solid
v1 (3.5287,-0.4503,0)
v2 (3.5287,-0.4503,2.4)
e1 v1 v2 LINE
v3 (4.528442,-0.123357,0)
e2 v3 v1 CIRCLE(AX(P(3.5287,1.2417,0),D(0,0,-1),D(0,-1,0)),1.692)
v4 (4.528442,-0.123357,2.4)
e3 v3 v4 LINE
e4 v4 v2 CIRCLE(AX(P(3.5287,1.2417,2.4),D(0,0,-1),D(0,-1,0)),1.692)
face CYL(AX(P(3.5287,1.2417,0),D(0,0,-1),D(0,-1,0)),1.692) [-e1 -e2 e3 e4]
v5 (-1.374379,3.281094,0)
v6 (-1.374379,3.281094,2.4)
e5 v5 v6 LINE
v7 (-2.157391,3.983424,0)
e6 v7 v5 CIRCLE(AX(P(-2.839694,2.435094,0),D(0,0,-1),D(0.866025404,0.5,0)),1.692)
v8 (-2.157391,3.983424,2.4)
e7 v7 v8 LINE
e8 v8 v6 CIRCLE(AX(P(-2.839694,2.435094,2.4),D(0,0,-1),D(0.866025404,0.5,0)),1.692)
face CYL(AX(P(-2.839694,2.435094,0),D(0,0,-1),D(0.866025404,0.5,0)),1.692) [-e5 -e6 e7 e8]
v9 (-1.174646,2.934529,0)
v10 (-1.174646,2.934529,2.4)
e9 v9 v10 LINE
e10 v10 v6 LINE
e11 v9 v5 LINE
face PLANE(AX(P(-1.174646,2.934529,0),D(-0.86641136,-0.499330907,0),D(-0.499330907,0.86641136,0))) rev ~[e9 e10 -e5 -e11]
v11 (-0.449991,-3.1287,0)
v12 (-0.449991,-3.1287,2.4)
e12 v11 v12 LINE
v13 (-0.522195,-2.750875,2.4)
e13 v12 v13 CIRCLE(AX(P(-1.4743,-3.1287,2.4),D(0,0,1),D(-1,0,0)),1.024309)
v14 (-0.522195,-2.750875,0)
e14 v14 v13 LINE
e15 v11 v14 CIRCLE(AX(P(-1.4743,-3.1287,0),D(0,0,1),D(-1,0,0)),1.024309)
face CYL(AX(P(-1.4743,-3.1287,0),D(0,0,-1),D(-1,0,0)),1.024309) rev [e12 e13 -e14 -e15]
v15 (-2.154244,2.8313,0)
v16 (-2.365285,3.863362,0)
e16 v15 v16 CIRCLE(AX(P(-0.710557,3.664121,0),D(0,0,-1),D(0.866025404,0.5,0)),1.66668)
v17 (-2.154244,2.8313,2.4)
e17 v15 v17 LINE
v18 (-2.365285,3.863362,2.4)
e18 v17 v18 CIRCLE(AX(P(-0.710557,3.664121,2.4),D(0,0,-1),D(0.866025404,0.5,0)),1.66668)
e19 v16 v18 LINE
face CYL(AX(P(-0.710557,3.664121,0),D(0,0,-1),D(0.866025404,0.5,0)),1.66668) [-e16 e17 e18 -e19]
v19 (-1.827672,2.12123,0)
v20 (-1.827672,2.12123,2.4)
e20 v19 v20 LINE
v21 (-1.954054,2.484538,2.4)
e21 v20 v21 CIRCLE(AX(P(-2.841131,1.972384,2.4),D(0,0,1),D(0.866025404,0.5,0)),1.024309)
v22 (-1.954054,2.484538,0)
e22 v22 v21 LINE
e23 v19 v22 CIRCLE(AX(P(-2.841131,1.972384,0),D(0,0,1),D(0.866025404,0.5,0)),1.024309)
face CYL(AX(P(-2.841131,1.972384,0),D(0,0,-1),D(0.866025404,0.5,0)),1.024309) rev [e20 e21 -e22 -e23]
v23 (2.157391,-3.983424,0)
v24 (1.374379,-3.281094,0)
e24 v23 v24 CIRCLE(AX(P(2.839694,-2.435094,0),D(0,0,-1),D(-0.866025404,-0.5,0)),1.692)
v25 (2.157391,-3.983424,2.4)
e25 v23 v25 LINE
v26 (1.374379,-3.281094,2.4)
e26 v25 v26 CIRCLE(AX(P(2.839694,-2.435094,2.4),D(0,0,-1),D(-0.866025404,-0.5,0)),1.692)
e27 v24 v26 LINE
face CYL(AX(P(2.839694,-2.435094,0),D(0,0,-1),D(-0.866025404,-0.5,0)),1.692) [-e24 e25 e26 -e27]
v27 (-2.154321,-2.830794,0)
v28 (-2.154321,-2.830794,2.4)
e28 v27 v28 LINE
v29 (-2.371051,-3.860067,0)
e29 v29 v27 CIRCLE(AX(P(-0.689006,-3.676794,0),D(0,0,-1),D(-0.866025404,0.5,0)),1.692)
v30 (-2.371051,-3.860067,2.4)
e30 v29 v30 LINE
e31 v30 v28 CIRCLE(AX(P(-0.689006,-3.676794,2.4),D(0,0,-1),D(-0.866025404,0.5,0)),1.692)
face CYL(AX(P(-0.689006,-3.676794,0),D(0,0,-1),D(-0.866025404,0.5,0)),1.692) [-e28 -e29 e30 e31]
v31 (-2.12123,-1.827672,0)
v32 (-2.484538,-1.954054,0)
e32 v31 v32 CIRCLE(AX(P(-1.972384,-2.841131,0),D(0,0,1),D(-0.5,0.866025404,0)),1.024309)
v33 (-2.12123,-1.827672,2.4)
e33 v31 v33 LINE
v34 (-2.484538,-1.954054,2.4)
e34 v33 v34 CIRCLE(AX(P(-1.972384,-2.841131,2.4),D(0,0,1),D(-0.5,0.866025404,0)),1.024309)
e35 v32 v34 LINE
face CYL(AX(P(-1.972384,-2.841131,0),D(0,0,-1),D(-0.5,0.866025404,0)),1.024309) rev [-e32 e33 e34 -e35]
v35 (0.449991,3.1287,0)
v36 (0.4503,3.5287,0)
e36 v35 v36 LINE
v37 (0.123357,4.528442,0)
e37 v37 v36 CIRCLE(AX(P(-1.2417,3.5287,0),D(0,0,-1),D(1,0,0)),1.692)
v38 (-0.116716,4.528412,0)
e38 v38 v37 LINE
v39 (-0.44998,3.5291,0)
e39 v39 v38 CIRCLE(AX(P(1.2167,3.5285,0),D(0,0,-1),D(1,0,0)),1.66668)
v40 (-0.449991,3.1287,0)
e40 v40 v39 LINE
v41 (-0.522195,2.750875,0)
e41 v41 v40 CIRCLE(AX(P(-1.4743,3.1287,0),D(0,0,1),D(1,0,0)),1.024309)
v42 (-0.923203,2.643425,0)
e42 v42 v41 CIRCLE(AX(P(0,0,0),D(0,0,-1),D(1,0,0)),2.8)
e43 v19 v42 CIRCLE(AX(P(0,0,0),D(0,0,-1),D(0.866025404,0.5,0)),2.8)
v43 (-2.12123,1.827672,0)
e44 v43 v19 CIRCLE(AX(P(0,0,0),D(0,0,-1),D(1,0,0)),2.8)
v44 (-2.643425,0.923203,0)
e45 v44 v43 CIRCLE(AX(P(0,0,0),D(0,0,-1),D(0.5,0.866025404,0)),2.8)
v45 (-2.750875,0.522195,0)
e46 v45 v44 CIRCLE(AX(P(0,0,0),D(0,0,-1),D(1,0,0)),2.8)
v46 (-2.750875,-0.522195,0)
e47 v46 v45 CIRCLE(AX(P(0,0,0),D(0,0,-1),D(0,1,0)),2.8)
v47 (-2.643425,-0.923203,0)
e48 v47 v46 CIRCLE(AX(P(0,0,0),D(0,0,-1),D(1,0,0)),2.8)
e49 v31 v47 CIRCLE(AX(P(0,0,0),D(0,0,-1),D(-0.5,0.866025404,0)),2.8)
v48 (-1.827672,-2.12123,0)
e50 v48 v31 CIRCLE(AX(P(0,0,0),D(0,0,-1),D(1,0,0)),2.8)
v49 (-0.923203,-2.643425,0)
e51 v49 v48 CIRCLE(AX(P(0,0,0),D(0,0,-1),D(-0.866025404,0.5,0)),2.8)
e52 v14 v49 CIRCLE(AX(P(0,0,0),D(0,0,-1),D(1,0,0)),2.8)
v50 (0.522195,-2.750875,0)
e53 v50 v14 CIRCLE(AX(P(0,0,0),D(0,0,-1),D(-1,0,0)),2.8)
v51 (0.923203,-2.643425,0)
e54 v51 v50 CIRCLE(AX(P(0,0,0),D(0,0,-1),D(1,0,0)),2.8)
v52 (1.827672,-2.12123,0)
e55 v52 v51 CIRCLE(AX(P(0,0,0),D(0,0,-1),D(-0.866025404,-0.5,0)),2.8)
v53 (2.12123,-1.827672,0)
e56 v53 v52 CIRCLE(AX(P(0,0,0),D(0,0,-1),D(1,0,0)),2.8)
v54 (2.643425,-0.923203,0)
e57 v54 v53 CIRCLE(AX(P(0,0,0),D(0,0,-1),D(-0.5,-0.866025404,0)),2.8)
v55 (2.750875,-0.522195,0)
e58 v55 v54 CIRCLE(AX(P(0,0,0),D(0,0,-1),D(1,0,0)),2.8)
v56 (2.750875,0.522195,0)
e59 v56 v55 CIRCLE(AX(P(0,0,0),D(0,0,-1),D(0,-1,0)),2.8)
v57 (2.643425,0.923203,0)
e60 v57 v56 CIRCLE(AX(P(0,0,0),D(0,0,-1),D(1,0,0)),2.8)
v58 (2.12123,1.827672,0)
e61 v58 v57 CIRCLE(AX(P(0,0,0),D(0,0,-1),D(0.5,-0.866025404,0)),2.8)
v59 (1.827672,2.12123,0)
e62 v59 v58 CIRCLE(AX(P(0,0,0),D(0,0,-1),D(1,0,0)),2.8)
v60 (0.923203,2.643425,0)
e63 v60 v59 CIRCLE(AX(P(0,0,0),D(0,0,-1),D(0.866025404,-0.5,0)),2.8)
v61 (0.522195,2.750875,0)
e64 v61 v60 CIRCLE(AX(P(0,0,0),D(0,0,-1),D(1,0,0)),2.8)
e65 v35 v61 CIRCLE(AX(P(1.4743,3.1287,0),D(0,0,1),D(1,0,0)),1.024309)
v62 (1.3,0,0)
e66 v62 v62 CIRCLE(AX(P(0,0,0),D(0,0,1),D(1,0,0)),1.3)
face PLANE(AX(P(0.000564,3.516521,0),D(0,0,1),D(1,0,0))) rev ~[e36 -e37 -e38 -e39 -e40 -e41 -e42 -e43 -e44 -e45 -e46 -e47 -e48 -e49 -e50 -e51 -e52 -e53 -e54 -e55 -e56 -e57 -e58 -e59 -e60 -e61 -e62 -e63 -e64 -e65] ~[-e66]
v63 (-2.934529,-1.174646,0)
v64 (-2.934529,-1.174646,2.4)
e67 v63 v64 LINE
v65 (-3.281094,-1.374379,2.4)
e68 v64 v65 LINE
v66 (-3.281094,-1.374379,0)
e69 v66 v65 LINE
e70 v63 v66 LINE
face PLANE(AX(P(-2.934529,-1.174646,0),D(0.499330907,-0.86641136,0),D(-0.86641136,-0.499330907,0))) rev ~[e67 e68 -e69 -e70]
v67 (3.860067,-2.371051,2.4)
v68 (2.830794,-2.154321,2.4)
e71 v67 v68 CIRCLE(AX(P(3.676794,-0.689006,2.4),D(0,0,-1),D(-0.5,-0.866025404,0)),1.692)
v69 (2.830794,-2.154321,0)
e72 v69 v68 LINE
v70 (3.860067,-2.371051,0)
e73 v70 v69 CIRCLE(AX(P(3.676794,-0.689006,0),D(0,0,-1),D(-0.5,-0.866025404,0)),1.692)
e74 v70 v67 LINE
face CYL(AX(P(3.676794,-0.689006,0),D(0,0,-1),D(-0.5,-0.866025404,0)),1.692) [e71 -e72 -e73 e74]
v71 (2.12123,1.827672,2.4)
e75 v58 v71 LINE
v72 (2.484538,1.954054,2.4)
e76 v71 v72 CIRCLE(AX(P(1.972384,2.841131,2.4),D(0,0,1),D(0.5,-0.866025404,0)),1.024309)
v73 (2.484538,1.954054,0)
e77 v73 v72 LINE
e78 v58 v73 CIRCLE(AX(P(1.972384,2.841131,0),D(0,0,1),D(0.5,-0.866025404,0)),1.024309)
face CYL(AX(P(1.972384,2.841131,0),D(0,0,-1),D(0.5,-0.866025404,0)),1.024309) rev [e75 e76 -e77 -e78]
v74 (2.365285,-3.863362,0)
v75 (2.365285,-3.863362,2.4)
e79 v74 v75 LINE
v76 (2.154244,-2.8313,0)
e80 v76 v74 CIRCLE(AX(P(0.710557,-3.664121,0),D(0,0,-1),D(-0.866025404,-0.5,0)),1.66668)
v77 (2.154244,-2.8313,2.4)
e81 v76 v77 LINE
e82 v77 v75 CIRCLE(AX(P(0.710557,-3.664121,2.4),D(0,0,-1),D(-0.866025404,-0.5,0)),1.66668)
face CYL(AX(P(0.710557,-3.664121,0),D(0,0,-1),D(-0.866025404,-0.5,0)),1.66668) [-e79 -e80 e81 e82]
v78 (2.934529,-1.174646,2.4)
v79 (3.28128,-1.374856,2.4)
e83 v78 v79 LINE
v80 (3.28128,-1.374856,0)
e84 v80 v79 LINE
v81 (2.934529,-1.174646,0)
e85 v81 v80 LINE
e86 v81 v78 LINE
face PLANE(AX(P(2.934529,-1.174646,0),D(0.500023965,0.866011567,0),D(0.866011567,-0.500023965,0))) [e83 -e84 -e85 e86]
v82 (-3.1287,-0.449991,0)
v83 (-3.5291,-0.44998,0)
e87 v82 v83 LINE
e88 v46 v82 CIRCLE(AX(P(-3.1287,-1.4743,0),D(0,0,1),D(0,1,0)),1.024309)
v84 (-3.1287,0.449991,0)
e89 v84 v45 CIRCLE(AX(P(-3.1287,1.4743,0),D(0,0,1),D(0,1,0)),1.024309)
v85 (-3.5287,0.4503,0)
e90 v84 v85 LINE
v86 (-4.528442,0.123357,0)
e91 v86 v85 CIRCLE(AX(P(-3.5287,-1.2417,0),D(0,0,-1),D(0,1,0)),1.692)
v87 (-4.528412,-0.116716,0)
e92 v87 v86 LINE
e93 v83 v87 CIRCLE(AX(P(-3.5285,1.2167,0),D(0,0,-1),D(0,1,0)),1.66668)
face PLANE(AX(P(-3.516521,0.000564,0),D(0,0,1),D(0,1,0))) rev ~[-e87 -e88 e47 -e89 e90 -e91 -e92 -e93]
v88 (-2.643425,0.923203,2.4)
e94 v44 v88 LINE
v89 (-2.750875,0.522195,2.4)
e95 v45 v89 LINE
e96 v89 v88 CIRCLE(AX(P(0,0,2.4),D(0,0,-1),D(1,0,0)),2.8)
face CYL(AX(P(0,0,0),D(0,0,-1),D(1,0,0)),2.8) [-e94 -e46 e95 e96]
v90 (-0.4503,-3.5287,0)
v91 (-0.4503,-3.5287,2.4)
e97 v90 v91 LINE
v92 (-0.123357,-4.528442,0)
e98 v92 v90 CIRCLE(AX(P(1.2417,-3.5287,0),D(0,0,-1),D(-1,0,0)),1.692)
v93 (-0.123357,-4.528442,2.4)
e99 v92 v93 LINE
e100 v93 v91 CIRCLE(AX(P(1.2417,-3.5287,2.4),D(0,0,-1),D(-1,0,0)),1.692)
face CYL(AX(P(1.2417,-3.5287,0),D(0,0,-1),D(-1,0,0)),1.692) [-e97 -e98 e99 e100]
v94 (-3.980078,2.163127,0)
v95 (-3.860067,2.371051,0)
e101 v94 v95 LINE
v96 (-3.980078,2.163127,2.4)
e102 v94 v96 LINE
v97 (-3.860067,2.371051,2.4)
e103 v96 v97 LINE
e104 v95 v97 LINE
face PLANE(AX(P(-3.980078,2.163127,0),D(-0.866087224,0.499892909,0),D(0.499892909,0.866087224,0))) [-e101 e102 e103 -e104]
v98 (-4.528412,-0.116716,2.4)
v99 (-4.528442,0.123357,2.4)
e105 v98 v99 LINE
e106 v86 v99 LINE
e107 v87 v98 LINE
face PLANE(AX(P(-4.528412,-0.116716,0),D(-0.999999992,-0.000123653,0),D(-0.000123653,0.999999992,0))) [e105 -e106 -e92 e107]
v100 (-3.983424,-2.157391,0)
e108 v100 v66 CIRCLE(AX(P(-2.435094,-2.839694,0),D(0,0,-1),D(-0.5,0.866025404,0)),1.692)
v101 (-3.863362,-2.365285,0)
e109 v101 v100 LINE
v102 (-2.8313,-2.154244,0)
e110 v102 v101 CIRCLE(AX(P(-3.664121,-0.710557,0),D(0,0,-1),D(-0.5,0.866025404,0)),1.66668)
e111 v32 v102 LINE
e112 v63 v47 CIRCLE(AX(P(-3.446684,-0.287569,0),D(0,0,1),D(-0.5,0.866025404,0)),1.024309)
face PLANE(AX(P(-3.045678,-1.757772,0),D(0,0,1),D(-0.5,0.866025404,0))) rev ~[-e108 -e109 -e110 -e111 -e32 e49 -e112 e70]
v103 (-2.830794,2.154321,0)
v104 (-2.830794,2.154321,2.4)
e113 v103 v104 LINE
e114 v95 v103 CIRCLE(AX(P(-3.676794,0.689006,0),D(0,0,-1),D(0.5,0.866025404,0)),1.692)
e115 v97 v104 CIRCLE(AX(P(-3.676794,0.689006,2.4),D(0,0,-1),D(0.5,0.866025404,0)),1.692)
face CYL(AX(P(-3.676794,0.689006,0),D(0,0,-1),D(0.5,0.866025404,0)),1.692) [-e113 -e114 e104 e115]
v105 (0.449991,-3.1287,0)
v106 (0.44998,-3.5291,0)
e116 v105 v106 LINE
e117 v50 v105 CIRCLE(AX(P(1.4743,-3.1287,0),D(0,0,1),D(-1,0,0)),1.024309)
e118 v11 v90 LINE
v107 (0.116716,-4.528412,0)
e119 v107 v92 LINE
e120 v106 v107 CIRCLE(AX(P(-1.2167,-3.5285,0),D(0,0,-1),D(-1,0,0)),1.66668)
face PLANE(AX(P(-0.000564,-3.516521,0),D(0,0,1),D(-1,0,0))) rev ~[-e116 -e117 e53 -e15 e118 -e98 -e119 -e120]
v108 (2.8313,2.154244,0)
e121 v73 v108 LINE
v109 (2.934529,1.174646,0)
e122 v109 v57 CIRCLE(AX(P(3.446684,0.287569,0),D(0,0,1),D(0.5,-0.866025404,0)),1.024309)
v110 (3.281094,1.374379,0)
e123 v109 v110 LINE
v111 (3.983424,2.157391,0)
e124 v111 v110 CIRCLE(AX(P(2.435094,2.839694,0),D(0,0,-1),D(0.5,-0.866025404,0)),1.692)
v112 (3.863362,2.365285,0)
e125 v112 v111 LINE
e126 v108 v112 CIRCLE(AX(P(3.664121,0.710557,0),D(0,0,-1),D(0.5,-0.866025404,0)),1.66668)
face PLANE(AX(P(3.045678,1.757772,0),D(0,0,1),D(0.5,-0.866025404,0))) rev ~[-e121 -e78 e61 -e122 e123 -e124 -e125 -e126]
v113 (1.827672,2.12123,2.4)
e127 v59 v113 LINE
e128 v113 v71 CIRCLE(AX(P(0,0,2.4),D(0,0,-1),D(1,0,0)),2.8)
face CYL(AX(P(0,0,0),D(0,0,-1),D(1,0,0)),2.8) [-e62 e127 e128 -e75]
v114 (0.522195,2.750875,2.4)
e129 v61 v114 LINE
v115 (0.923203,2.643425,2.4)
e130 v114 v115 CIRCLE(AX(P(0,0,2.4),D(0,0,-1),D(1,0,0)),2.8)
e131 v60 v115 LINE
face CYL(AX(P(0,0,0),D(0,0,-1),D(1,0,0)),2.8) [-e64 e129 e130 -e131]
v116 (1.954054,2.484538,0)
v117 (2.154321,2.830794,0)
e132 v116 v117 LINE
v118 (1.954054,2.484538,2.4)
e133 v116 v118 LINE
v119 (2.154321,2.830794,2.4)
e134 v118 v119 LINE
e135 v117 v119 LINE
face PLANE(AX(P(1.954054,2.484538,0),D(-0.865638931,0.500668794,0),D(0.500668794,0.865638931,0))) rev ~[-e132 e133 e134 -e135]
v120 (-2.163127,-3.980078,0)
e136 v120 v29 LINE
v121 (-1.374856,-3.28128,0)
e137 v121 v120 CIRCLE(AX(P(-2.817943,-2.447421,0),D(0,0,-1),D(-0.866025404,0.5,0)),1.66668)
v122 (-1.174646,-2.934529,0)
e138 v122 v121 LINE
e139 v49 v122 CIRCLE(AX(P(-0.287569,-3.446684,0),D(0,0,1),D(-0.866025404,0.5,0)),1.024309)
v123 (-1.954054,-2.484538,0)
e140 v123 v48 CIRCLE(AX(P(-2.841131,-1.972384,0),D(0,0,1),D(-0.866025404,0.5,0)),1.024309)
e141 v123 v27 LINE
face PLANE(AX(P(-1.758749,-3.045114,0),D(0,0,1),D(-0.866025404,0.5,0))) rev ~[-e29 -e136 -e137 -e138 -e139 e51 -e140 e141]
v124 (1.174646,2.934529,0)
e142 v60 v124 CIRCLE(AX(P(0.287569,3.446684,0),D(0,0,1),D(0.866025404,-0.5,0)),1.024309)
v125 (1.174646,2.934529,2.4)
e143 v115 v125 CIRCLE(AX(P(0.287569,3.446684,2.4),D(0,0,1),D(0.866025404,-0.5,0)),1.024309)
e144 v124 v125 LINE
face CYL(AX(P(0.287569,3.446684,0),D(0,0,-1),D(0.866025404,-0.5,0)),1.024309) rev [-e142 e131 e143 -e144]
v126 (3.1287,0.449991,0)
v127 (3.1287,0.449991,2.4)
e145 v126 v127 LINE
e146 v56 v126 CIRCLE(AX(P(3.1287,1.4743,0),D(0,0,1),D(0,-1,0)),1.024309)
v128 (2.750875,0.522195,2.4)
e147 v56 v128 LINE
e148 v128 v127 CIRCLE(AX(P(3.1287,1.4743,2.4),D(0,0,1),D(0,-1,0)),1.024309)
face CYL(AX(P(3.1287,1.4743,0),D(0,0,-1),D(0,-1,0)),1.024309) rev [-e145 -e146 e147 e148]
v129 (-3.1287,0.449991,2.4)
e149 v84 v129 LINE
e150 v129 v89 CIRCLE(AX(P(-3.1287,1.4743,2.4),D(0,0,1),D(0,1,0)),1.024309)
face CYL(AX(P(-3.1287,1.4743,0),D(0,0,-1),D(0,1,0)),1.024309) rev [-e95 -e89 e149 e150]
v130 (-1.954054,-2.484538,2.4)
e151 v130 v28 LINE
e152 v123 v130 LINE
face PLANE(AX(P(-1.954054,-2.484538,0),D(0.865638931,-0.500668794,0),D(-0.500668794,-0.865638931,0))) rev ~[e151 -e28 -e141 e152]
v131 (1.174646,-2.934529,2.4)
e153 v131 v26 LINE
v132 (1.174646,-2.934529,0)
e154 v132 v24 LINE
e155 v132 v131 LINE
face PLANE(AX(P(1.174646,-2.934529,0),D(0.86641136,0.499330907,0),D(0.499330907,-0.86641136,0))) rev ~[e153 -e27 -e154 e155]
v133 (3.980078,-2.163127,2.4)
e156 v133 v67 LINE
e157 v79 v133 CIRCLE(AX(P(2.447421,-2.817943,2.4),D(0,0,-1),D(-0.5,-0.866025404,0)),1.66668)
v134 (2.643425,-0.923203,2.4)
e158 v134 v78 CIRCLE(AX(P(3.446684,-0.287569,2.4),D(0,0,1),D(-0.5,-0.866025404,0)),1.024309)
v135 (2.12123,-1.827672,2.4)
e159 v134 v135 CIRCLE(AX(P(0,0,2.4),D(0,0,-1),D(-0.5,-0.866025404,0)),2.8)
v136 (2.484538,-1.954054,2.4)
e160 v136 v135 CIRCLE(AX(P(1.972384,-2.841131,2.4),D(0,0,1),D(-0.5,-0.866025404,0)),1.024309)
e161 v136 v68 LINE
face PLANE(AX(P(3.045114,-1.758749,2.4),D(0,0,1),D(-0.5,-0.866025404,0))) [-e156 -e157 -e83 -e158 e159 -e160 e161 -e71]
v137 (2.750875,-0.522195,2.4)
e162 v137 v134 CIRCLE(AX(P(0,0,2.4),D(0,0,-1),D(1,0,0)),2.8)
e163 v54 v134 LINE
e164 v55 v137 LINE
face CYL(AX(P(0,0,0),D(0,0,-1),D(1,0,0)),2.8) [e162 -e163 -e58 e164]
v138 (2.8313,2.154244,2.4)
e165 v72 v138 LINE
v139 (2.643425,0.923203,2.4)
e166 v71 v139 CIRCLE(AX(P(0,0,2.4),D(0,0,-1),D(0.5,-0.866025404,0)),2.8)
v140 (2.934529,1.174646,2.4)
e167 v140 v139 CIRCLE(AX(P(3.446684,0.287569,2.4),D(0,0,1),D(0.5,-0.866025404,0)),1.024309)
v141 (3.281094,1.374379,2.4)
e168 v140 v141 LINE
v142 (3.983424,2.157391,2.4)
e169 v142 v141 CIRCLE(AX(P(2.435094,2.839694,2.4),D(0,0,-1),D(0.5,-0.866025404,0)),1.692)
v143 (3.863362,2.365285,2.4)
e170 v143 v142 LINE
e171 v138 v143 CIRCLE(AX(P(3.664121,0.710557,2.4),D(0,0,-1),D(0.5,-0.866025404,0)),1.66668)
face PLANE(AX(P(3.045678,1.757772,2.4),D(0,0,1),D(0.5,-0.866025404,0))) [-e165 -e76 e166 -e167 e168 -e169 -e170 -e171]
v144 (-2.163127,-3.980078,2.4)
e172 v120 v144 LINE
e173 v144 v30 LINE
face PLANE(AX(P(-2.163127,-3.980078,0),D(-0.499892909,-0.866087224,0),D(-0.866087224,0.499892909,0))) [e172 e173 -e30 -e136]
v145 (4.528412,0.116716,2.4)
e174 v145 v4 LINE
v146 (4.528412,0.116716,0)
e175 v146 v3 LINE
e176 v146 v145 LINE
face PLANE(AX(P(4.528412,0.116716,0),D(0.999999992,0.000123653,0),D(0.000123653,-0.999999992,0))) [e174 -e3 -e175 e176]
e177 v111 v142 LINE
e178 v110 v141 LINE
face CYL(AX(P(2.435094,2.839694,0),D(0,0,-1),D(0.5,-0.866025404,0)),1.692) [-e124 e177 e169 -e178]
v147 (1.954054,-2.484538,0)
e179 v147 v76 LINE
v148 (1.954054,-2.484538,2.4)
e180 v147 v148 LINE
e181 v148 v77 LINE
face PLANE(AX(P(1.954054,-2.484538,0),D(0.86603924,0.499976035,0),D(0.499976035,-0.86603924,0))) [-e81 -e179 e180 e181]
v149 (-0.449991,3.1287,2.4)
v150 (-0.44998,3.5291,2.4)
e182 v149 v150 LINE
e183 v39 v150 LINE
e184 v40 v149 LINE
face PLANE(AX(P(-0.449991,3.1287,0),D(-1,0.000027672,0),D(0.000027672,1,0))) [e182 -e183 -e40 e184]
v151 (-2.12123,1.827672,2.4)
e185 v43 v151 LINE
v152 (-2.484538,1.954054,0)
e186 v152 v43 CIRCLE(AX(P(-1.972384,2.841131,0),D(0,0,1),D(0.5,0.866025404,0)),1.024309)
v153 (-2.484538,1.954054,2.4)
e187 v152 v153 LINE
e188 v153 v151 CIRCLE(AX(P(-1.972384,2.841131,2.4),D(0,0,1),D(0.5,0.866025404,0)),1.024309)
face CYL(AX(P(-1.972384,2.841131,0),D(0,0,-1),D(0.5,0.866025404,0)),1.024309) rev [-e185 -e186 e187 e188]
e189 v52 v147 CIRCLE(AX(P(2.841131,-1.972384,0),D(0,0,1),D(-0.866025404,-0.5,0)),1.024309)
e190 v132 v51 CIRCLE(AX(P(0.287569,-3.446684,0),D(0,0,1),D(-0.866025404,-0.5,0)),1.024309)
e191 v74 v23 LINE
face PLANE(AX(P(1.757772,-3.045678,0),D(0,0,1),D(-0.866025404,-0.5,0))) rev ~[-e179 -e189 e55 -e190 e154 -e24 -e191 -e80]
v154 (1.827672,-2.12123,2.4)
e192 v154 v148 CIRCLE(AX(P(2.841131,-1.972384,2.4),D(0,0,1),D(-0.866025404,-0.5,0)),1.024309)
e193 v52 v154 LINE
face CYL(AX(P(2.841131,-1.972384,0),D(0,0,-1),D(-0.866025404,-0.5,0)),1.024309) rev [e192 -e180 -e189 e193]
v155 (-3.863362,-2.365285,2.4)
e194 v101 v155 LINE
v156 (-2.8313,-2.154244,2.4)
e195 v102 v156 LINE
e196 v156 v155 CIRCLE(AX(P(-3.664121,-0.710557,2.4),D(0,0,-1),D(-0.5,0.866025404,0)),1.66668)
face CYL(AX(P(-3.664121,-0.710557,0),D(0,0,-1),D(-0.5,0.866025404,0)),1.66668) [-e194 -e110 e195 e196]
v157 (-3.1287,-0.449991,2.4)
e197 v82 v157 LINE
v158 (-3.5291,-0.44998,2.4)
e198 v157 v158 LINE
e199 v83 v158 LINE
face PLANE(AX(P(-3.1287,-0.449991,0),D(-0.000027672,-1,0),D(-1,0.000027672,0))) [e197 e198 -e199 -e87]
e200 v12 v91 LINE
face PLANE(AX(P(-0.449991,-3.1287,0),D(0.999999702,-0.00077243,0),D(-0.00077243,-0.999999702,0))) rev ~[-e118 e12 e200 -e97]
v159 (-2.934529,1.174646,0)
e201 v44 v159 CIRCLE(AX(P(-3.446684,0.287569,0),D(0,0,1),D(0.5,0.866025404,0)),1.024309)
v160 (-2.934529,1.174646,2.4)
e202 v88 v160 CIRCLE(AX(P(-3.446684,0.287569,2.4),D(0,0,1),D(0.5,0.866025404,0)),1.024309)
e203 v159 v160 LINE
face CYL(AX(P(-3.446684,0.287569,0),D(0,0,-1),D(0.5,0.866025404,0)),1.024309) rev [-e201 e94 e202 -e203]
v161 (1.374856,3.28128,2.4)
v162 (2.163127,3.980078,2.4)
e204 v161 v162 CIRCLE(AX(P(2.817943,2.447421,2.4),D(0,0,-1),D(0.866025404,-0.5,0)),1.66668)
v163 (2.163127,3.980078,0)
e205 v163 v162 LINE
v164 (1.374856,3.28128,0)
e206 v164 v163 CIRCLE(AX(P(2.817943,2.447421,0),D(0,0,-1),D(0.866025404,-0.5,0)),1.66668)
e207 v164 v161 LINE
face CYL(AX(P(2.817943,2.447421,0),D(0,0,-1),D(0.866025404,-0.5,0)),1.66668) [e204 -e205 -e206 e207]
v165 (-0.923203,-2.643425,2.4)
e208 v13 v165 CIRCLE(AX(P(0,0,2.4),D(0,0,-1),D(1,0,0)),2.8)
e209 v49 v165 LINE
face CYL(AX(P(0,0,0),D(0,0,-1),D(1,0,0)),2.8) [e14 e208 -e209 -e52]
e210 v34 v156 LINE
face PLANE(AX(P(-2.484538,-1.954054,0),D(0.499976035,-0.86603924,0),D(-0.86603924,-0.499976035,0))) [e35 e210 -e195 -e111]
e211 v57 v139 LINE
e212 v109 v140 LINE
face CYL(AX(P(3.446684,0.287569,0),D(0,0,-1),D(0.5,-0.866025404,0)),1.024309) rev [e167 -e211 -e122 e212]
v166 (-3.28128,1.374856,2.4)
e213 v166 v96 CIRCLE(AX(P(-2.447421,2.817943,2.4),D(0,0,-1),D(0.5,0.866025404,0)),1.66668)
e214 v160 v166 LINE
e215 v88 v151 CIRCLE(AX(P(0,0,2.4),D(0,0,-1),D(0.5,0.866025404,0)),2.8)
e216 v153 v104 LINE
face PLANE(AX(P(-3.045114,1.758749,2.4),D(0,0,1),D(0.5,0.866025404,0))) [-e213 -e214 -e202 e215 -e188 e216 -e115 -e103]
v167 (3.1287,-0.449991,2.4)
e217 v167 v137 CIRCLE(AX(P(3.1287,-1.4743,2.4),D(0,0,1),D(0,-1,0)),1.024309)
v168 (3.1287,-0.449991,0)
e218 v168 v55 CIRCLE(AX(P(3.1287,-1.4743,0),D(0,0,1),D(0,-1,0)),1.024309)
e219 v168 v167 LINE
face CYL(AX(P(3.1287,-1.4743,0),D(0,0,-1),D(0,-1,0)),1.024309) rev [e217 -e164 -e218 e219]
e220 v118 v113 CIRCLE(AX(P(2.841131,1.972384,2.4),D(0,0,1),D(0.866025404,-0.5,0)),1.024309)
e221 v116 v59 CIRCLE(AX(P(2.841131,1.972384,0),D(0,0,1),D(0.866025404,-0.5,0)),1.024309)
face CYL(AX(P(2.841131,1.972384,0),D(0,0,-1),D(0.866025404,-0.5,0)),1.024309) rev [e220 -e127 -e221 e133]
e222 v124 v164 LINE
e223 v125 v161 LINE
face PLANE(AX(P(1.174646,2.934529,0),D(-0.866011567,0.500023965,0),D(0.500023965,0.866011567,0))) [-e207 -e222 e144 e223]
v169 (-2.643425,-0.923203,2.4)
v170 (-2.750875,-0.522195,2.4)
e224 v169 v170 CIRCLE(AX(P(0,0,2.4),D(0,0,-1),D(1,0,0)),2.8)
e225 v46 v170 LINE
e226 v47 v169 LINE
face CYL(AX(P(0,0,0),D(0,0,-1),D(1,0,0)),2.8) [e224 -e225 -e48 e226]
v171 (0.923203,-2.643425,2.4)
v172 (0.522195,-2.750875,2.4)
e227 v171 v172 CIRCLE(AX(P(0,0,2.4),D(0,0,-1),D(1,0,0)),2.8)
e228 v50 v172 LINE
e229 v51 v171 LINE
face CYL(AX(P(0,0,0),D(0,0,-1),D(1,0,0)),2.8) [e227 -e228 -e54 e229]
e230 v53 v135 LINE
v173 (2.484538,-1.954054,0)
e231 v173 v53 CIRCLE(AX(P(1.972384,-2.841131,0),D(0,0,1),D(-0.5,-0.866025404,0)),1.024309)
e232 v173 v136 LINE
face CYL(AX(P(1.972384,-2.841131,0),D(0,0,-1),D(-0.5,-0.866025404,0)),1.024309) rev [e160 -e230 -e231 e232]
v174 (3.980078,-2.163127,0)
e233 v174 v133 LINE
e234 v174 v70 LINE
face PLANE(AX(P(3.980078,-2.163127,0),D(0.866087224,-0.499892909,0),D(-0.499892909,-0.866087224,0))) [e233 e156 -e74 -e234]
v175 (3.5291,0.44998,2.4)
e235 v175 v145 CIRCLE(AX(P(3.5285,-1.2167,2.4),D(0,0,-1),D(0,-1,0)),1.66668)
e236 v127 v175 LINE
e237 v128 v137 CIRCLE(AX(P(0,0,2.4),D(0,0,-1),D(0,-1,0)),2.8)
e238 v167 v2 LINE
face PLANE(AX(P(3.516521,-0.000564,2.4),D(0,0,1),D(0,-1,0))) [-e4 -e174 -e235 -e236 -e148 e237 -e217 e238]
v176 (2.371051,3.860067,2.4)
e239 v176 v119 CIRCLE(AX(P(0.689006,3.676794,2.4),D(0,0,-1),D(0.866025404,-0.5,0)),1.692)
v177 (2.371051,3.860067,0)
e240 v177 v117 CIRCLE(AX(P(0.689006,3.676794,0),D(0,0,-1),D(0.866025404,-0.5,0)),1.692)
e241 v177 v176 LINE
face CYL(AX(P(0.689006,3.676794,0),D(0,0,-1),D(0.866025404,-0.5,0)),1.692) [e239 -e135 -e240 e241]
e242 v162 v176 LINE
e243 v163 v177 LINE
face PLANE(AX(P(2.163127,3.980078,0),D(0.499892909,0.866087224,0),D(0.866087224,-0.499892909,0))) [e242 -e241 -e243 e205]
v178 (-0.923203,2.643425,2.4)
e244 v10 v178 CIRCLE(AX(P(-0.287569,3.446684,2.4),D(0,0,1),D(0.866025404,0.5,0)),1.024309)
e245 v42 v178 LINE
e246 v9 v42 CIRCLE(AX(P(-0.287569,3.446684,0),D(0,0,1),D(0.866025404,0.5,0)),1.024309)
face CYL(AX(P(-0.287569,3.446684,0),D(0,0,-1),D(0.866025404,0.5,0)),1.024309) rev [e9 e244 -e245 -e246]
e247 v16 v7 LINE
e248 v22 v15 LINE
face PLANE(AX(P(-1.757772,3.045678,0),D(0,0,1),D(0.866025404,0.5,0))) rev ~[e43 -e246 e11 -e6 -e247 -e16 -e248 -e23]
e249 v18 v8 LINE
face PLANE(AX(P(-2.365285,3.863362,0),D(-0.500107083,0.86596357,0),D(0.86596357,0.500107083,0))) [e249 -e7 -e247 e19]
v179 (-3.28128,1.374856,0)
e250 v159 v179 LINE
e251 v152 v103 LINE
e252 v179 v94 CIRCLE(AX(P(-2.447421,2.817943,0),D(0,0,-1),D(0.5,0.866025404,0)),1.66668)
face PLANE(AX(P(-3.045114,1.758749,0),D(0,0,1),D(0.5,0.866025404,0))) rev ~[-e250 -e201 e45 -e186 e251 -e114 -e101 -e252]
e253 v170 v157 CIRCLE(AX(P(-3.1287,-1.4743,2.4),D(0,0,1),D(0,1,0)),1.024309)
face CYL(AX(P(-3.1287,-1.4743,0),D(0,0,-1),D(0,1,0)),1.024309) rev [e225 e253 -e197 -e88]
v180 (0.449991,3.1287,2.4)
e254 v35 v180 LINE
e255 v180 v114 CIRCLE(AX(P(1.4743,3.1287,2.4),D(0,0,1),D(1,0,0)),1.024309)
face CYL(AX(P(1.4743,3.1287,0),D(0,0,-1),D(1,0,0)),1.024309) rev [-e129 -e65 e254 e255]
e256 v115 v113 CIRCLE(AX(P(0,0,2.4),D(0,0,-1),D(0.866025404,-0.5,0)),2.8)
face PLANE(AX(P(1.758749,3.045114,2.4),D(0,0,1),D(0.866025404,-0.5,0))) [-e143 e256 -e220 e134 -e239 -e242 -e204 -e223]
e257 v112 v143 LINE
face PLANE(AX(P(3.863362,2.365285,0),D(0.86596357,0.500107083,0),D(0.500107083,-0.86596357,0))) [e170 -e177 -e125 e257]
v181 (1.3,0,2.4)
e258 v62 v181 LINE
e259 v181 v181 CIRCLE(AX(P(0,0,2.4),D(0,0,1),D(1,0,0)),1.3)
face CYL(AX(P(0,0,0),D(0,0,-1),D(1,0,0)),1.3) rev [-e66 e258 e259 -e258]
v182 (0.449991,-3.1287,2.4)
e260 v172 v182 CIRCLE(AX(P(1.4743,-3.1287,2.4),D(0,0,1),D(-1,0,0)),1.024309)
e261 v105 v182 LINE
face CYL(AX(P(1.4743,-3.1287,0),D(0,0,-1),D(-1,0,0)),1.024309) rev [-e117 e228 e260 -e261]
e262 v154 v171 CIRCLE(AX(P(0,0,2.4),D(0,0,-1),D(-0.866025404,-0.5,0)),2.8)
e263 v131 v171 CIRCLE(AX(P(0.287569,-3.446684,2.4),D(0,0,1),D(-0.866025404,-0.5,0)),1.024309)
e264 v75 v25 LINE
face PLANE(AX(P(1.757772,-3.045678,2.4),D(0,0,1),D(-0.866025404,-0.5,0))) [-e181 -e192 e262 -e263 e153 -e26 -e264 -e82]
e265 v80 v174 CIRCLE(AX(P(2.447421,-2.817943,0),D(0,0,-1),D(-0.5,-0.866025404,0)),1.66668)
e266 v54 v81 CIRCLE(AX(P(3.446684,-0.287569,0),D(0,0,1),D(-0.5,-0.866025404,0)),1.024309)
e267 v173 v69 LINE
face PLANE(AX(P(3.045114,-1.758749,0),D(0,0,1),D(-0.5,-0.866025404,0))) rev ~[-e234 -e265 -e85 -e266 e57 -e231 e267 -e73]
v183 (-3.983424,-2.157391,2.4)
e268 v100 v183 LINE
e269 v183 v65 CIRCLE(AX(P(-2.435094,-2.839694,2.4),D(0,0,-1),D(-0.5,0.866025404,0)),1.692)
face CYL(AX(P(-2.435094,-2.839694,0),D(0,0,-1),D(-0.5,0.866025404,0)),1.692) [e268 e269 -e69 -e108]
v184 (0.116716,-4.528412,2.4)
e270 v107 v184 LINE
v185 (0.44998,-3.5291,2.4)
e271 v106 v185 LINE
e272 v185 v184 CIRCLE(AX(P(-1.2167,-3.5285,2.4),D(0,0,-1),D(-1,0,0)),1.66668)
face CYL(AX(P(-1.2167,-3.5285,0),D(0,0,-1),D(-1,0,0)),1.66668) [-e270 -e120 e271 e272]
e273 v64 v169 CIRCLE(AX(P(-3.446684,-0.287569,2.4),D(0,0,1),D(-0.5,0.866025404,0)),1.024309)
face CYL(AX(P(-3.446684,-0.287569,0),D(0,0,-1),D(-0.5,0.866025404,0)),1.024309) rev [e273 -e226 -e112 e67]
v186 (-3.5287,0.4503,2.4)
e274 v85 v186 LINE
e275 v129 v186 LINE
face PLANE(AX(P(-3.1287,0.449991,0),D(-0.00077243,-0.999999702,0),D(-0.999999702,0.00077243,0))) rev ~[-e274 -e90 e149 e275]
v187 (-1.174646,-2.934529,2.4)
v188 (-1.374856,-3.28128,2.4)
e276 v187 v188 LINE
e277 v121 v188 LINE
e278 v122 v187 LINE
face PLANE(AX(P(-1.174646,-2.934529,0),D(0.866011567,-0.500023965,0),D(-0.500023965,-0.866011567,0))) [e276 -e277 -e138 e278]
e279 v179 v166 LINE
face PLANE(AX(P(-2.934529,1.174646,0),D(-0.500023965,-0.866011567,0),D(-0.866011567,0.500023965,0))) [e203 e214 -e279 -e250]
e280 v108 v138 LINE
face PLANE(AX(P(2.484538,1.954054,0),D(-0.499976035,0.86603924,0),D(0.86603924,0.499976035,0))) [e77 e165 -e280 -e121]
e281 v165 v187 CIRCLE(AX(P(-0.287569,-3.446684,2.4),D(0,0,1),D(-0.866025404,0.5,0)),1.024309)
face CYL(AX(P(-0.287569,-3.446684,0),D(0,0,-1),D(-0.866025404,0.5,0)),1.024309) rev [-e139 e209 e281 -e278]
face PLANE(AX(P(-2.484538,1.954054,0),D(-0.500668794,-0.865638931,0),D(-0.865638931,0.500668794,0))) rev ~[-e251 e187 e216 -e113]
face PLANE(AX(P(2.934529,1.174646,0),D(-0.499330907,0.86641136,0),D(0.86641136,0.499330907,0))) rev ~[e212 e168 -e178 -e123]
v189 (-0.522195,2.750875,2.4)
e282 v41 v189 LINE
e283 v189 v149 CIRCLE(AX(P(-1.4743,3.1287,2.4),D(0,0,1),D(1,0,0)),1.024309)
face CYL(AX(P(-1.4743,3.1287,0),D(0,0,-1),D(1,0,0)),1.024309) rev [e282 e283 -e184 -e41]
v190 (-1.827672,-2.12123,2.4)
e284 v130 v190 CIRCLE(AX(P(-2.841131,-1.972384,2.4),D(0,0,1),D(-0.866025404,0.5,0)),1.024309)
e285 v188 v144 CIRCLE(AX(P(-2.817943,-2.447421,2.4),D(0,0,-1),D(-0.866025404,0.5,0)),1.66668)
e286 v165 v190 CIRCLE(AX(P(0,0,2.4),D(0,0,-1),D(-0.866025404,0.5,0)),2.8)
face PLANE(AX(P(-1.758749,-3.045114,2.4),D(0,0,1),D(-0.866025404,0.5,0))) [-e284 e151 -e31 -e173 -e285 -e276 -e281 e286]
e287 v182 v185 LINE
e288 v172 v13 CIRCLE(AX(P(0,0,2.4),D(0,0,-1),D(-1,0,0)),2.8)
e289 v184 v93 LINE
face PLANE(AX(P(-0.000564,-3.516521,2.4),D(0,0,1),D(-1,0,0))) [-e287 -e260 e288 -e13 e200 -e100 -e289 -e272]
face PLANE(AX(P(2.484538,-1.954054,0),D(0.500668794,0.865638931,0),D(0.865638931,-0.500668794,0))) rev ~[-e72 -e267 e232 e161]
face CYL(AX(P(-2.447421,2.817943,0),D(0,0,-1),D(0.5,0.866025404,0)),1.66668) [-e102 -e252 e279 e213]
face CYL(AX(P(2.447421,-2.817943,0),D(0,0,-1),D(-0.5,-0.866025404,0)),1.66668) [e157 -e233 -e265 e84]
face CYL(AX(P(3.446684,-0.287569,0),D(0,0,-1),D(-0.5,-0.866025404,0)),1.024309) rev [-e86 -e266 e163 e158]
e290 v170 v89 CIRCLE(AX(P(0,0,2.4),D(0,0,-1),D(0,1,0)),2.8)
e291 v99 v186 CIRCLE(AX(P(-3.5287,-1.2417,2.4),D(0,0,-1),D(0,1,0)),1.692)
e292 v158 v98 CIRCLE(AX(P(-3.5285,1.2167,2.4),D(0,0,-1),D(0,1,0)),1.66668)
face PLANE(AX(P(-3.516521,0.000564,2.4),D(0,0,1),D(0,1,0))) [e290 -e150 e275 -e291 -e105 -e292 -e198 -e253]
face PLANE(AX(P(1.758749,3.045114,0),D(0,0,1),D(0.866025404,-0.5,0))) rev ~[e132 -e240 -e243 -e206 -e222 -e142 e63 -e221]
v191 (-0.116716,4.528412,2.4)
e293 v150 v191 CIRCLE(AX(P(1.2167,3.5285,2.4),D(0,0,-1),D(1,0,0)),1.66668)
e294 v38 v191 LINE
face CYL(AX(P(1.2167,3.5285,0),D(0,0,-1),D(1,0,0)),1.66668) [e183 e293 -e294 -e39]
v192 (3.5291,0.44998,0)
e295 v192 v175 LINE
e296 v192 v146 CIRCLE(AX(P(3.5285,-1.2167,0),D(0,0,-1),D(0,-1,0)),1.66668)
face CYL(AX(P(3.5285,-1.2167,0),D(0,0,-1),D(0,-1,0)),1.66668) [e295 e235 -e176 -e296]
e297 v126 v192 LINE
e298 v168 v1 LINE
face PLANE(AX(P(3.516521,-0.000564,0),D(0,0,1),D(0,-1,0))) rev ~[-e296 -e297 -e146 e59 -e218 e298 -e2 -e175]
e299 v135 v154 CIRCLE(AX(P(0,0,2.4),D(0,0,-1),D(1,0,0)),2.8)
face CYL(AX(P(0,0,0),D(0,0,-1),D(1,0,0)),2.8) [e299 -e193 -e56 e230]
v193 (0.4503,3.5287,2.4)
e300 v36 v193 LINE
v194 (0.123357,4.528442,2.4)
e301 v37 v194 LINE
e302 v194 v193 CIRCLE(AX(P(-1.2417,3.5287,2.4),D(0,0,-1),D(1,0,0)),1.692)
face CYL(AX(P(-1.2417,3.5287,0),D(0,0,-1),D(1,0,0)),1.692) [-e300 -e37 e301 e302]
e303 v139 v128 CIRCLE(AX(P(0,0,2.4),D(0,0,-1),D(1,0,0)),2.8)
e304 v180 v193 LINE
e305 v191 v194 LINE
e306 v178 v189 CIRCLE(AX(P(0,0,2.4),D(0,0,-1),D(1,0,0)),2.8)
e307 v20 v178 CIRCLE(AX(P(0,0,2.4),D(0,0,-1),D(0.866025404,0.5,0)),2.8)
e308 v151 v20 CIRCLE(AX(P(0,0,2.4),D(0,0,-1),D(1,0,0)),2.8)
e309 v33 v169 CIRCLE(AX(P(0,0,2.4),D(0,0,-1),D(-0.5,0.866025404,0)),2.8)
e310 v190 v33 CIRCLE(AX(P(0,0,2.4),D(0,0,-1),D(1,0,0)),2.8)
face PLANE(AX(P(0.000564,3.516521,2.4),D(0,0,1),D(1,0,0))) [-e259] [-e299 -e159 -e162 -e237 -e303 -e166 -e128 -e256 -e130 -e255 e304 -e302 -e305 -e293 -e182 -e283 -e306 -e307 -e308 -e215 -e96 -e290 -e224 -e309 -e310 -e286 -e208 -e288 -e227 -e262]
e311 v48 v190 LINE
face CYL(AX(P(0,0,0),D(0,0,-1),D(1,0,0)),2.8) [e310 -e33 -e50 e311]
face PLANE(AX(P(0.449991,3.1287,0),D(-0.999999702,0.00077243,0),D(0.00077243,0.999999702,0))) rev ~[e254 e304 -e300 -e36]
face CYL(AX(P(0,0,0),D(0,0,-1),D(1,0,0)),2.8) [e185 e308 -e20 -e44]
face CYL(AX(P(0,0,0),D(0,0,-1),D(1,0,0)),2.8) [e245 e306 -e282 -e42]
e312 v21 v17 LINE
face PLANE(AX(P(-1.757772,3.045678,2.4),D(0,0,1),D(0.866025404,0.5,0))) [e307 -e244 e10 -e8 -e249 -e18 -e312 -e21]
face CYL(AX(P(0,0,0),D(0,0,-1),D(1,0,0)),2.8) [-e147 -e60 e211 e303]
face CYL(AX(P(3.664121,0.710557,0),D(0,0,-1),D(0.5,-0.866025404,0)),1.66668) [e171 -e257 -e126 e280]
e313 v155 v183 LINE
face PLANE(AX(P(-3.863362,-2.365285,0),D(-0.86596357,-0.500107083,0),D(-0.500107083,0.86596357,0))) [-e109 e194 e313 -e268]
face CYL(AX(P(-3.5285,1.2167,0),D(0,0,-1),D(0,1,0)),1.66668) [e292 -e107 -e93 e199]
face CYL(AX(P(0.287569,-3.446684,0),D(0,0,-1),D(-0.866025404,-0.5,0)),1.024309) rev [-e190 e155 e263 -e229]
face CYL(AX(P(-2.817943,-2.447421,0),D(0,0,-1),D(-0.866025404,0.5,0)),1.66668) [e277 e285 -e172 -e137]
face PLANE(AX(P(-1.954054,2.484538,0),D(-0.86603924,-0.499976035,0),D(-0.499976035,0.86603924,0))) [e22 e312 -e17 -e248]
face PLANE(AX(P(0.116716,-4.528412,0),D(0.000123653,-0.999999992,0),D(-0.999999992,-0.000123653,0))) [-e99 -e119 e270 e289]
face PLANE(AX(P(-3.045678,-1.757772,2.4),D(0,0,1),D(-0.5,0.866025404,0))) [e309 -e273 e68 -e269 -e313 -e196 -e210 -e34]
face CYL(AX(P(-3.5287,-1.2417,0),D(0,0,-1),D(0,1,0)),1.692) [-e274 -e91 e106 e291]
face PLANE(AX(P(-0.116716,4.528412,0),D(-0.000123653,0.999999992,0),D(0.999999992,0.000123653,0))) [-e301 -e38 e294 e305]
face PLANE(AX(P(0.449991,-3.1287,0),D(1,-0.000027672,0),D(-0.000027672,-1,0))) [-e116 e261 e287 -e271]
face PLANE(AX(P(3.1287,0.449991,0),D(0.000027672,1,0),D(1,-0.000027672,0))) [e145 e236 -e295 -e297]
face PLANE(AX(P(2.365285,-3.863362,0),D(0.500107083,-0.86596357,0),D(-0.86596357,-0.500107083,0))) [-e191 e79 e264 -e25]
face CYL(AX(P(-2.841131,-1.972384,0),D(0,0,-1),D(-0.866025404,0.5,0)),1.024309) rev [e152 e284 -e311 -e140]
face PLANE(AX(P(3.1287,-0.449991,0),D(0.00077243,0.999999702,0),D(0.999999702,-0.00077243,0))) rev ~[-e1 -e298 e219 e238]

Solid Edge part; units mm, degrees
sketch "Sketch1" plane through (0, 0, 0) normal (0, 0, 1) x (1, 0, 0)
  arc A0 (-0.5222, 2.7509) -> (0.5222, 2.7509) centre (0, 0) cw
  arc A1 (0.45, 3.1287) -> (0.5222, 2.7509) centre (1.4743, 3.1287) ccw
  line L0 (0.45, 3.1287) -> (0.4502, 3.5287)
  arc A2 (0.1233, 4.5284) -> (0.4502, 3.5287) centre (-1.2417, 3.5287) cw
  line L1 (-0.1167, 4.5284) -> (0.1233, 4.5284)
  arc A3 (-0.45, 3.5291) -> (-0.1167, 4.5284) centre (1.2167, 3.5285) cw
  line L2 (-0.45, 3.1287) -> (-0.45, 3.5291)
  arc A4 (-0.5222, 2.7509) -> (-0.45, 3.1287) centre (-1.4743, 3.1287) ccw
extrude "Protrusion1" add sketch "Sketch1" along normal blind 2.4
sketch "Sketch2" plane through (0, 0, 0) normal (0, 0, 1) x (1, 0, 0)
  arc A0 (0.5222, 2.7509) -> (-0.5222, 2.7509) centre (0, 0) cw
  arc A1 (-0.5222, 2.7509) -> (0.5222, 2.7509) centre (0, 0) cw
  circle A2 centre (0, 0) radius 1.3
extrude "ExtrudedProtrusion_6" add sketch "Sketch2" along normal blind 2.4
pattern_circular "Pattern1" count 12 over 360 about axis through (0, 0, 0) along (0, 0, -1) of "Protrusion1"
